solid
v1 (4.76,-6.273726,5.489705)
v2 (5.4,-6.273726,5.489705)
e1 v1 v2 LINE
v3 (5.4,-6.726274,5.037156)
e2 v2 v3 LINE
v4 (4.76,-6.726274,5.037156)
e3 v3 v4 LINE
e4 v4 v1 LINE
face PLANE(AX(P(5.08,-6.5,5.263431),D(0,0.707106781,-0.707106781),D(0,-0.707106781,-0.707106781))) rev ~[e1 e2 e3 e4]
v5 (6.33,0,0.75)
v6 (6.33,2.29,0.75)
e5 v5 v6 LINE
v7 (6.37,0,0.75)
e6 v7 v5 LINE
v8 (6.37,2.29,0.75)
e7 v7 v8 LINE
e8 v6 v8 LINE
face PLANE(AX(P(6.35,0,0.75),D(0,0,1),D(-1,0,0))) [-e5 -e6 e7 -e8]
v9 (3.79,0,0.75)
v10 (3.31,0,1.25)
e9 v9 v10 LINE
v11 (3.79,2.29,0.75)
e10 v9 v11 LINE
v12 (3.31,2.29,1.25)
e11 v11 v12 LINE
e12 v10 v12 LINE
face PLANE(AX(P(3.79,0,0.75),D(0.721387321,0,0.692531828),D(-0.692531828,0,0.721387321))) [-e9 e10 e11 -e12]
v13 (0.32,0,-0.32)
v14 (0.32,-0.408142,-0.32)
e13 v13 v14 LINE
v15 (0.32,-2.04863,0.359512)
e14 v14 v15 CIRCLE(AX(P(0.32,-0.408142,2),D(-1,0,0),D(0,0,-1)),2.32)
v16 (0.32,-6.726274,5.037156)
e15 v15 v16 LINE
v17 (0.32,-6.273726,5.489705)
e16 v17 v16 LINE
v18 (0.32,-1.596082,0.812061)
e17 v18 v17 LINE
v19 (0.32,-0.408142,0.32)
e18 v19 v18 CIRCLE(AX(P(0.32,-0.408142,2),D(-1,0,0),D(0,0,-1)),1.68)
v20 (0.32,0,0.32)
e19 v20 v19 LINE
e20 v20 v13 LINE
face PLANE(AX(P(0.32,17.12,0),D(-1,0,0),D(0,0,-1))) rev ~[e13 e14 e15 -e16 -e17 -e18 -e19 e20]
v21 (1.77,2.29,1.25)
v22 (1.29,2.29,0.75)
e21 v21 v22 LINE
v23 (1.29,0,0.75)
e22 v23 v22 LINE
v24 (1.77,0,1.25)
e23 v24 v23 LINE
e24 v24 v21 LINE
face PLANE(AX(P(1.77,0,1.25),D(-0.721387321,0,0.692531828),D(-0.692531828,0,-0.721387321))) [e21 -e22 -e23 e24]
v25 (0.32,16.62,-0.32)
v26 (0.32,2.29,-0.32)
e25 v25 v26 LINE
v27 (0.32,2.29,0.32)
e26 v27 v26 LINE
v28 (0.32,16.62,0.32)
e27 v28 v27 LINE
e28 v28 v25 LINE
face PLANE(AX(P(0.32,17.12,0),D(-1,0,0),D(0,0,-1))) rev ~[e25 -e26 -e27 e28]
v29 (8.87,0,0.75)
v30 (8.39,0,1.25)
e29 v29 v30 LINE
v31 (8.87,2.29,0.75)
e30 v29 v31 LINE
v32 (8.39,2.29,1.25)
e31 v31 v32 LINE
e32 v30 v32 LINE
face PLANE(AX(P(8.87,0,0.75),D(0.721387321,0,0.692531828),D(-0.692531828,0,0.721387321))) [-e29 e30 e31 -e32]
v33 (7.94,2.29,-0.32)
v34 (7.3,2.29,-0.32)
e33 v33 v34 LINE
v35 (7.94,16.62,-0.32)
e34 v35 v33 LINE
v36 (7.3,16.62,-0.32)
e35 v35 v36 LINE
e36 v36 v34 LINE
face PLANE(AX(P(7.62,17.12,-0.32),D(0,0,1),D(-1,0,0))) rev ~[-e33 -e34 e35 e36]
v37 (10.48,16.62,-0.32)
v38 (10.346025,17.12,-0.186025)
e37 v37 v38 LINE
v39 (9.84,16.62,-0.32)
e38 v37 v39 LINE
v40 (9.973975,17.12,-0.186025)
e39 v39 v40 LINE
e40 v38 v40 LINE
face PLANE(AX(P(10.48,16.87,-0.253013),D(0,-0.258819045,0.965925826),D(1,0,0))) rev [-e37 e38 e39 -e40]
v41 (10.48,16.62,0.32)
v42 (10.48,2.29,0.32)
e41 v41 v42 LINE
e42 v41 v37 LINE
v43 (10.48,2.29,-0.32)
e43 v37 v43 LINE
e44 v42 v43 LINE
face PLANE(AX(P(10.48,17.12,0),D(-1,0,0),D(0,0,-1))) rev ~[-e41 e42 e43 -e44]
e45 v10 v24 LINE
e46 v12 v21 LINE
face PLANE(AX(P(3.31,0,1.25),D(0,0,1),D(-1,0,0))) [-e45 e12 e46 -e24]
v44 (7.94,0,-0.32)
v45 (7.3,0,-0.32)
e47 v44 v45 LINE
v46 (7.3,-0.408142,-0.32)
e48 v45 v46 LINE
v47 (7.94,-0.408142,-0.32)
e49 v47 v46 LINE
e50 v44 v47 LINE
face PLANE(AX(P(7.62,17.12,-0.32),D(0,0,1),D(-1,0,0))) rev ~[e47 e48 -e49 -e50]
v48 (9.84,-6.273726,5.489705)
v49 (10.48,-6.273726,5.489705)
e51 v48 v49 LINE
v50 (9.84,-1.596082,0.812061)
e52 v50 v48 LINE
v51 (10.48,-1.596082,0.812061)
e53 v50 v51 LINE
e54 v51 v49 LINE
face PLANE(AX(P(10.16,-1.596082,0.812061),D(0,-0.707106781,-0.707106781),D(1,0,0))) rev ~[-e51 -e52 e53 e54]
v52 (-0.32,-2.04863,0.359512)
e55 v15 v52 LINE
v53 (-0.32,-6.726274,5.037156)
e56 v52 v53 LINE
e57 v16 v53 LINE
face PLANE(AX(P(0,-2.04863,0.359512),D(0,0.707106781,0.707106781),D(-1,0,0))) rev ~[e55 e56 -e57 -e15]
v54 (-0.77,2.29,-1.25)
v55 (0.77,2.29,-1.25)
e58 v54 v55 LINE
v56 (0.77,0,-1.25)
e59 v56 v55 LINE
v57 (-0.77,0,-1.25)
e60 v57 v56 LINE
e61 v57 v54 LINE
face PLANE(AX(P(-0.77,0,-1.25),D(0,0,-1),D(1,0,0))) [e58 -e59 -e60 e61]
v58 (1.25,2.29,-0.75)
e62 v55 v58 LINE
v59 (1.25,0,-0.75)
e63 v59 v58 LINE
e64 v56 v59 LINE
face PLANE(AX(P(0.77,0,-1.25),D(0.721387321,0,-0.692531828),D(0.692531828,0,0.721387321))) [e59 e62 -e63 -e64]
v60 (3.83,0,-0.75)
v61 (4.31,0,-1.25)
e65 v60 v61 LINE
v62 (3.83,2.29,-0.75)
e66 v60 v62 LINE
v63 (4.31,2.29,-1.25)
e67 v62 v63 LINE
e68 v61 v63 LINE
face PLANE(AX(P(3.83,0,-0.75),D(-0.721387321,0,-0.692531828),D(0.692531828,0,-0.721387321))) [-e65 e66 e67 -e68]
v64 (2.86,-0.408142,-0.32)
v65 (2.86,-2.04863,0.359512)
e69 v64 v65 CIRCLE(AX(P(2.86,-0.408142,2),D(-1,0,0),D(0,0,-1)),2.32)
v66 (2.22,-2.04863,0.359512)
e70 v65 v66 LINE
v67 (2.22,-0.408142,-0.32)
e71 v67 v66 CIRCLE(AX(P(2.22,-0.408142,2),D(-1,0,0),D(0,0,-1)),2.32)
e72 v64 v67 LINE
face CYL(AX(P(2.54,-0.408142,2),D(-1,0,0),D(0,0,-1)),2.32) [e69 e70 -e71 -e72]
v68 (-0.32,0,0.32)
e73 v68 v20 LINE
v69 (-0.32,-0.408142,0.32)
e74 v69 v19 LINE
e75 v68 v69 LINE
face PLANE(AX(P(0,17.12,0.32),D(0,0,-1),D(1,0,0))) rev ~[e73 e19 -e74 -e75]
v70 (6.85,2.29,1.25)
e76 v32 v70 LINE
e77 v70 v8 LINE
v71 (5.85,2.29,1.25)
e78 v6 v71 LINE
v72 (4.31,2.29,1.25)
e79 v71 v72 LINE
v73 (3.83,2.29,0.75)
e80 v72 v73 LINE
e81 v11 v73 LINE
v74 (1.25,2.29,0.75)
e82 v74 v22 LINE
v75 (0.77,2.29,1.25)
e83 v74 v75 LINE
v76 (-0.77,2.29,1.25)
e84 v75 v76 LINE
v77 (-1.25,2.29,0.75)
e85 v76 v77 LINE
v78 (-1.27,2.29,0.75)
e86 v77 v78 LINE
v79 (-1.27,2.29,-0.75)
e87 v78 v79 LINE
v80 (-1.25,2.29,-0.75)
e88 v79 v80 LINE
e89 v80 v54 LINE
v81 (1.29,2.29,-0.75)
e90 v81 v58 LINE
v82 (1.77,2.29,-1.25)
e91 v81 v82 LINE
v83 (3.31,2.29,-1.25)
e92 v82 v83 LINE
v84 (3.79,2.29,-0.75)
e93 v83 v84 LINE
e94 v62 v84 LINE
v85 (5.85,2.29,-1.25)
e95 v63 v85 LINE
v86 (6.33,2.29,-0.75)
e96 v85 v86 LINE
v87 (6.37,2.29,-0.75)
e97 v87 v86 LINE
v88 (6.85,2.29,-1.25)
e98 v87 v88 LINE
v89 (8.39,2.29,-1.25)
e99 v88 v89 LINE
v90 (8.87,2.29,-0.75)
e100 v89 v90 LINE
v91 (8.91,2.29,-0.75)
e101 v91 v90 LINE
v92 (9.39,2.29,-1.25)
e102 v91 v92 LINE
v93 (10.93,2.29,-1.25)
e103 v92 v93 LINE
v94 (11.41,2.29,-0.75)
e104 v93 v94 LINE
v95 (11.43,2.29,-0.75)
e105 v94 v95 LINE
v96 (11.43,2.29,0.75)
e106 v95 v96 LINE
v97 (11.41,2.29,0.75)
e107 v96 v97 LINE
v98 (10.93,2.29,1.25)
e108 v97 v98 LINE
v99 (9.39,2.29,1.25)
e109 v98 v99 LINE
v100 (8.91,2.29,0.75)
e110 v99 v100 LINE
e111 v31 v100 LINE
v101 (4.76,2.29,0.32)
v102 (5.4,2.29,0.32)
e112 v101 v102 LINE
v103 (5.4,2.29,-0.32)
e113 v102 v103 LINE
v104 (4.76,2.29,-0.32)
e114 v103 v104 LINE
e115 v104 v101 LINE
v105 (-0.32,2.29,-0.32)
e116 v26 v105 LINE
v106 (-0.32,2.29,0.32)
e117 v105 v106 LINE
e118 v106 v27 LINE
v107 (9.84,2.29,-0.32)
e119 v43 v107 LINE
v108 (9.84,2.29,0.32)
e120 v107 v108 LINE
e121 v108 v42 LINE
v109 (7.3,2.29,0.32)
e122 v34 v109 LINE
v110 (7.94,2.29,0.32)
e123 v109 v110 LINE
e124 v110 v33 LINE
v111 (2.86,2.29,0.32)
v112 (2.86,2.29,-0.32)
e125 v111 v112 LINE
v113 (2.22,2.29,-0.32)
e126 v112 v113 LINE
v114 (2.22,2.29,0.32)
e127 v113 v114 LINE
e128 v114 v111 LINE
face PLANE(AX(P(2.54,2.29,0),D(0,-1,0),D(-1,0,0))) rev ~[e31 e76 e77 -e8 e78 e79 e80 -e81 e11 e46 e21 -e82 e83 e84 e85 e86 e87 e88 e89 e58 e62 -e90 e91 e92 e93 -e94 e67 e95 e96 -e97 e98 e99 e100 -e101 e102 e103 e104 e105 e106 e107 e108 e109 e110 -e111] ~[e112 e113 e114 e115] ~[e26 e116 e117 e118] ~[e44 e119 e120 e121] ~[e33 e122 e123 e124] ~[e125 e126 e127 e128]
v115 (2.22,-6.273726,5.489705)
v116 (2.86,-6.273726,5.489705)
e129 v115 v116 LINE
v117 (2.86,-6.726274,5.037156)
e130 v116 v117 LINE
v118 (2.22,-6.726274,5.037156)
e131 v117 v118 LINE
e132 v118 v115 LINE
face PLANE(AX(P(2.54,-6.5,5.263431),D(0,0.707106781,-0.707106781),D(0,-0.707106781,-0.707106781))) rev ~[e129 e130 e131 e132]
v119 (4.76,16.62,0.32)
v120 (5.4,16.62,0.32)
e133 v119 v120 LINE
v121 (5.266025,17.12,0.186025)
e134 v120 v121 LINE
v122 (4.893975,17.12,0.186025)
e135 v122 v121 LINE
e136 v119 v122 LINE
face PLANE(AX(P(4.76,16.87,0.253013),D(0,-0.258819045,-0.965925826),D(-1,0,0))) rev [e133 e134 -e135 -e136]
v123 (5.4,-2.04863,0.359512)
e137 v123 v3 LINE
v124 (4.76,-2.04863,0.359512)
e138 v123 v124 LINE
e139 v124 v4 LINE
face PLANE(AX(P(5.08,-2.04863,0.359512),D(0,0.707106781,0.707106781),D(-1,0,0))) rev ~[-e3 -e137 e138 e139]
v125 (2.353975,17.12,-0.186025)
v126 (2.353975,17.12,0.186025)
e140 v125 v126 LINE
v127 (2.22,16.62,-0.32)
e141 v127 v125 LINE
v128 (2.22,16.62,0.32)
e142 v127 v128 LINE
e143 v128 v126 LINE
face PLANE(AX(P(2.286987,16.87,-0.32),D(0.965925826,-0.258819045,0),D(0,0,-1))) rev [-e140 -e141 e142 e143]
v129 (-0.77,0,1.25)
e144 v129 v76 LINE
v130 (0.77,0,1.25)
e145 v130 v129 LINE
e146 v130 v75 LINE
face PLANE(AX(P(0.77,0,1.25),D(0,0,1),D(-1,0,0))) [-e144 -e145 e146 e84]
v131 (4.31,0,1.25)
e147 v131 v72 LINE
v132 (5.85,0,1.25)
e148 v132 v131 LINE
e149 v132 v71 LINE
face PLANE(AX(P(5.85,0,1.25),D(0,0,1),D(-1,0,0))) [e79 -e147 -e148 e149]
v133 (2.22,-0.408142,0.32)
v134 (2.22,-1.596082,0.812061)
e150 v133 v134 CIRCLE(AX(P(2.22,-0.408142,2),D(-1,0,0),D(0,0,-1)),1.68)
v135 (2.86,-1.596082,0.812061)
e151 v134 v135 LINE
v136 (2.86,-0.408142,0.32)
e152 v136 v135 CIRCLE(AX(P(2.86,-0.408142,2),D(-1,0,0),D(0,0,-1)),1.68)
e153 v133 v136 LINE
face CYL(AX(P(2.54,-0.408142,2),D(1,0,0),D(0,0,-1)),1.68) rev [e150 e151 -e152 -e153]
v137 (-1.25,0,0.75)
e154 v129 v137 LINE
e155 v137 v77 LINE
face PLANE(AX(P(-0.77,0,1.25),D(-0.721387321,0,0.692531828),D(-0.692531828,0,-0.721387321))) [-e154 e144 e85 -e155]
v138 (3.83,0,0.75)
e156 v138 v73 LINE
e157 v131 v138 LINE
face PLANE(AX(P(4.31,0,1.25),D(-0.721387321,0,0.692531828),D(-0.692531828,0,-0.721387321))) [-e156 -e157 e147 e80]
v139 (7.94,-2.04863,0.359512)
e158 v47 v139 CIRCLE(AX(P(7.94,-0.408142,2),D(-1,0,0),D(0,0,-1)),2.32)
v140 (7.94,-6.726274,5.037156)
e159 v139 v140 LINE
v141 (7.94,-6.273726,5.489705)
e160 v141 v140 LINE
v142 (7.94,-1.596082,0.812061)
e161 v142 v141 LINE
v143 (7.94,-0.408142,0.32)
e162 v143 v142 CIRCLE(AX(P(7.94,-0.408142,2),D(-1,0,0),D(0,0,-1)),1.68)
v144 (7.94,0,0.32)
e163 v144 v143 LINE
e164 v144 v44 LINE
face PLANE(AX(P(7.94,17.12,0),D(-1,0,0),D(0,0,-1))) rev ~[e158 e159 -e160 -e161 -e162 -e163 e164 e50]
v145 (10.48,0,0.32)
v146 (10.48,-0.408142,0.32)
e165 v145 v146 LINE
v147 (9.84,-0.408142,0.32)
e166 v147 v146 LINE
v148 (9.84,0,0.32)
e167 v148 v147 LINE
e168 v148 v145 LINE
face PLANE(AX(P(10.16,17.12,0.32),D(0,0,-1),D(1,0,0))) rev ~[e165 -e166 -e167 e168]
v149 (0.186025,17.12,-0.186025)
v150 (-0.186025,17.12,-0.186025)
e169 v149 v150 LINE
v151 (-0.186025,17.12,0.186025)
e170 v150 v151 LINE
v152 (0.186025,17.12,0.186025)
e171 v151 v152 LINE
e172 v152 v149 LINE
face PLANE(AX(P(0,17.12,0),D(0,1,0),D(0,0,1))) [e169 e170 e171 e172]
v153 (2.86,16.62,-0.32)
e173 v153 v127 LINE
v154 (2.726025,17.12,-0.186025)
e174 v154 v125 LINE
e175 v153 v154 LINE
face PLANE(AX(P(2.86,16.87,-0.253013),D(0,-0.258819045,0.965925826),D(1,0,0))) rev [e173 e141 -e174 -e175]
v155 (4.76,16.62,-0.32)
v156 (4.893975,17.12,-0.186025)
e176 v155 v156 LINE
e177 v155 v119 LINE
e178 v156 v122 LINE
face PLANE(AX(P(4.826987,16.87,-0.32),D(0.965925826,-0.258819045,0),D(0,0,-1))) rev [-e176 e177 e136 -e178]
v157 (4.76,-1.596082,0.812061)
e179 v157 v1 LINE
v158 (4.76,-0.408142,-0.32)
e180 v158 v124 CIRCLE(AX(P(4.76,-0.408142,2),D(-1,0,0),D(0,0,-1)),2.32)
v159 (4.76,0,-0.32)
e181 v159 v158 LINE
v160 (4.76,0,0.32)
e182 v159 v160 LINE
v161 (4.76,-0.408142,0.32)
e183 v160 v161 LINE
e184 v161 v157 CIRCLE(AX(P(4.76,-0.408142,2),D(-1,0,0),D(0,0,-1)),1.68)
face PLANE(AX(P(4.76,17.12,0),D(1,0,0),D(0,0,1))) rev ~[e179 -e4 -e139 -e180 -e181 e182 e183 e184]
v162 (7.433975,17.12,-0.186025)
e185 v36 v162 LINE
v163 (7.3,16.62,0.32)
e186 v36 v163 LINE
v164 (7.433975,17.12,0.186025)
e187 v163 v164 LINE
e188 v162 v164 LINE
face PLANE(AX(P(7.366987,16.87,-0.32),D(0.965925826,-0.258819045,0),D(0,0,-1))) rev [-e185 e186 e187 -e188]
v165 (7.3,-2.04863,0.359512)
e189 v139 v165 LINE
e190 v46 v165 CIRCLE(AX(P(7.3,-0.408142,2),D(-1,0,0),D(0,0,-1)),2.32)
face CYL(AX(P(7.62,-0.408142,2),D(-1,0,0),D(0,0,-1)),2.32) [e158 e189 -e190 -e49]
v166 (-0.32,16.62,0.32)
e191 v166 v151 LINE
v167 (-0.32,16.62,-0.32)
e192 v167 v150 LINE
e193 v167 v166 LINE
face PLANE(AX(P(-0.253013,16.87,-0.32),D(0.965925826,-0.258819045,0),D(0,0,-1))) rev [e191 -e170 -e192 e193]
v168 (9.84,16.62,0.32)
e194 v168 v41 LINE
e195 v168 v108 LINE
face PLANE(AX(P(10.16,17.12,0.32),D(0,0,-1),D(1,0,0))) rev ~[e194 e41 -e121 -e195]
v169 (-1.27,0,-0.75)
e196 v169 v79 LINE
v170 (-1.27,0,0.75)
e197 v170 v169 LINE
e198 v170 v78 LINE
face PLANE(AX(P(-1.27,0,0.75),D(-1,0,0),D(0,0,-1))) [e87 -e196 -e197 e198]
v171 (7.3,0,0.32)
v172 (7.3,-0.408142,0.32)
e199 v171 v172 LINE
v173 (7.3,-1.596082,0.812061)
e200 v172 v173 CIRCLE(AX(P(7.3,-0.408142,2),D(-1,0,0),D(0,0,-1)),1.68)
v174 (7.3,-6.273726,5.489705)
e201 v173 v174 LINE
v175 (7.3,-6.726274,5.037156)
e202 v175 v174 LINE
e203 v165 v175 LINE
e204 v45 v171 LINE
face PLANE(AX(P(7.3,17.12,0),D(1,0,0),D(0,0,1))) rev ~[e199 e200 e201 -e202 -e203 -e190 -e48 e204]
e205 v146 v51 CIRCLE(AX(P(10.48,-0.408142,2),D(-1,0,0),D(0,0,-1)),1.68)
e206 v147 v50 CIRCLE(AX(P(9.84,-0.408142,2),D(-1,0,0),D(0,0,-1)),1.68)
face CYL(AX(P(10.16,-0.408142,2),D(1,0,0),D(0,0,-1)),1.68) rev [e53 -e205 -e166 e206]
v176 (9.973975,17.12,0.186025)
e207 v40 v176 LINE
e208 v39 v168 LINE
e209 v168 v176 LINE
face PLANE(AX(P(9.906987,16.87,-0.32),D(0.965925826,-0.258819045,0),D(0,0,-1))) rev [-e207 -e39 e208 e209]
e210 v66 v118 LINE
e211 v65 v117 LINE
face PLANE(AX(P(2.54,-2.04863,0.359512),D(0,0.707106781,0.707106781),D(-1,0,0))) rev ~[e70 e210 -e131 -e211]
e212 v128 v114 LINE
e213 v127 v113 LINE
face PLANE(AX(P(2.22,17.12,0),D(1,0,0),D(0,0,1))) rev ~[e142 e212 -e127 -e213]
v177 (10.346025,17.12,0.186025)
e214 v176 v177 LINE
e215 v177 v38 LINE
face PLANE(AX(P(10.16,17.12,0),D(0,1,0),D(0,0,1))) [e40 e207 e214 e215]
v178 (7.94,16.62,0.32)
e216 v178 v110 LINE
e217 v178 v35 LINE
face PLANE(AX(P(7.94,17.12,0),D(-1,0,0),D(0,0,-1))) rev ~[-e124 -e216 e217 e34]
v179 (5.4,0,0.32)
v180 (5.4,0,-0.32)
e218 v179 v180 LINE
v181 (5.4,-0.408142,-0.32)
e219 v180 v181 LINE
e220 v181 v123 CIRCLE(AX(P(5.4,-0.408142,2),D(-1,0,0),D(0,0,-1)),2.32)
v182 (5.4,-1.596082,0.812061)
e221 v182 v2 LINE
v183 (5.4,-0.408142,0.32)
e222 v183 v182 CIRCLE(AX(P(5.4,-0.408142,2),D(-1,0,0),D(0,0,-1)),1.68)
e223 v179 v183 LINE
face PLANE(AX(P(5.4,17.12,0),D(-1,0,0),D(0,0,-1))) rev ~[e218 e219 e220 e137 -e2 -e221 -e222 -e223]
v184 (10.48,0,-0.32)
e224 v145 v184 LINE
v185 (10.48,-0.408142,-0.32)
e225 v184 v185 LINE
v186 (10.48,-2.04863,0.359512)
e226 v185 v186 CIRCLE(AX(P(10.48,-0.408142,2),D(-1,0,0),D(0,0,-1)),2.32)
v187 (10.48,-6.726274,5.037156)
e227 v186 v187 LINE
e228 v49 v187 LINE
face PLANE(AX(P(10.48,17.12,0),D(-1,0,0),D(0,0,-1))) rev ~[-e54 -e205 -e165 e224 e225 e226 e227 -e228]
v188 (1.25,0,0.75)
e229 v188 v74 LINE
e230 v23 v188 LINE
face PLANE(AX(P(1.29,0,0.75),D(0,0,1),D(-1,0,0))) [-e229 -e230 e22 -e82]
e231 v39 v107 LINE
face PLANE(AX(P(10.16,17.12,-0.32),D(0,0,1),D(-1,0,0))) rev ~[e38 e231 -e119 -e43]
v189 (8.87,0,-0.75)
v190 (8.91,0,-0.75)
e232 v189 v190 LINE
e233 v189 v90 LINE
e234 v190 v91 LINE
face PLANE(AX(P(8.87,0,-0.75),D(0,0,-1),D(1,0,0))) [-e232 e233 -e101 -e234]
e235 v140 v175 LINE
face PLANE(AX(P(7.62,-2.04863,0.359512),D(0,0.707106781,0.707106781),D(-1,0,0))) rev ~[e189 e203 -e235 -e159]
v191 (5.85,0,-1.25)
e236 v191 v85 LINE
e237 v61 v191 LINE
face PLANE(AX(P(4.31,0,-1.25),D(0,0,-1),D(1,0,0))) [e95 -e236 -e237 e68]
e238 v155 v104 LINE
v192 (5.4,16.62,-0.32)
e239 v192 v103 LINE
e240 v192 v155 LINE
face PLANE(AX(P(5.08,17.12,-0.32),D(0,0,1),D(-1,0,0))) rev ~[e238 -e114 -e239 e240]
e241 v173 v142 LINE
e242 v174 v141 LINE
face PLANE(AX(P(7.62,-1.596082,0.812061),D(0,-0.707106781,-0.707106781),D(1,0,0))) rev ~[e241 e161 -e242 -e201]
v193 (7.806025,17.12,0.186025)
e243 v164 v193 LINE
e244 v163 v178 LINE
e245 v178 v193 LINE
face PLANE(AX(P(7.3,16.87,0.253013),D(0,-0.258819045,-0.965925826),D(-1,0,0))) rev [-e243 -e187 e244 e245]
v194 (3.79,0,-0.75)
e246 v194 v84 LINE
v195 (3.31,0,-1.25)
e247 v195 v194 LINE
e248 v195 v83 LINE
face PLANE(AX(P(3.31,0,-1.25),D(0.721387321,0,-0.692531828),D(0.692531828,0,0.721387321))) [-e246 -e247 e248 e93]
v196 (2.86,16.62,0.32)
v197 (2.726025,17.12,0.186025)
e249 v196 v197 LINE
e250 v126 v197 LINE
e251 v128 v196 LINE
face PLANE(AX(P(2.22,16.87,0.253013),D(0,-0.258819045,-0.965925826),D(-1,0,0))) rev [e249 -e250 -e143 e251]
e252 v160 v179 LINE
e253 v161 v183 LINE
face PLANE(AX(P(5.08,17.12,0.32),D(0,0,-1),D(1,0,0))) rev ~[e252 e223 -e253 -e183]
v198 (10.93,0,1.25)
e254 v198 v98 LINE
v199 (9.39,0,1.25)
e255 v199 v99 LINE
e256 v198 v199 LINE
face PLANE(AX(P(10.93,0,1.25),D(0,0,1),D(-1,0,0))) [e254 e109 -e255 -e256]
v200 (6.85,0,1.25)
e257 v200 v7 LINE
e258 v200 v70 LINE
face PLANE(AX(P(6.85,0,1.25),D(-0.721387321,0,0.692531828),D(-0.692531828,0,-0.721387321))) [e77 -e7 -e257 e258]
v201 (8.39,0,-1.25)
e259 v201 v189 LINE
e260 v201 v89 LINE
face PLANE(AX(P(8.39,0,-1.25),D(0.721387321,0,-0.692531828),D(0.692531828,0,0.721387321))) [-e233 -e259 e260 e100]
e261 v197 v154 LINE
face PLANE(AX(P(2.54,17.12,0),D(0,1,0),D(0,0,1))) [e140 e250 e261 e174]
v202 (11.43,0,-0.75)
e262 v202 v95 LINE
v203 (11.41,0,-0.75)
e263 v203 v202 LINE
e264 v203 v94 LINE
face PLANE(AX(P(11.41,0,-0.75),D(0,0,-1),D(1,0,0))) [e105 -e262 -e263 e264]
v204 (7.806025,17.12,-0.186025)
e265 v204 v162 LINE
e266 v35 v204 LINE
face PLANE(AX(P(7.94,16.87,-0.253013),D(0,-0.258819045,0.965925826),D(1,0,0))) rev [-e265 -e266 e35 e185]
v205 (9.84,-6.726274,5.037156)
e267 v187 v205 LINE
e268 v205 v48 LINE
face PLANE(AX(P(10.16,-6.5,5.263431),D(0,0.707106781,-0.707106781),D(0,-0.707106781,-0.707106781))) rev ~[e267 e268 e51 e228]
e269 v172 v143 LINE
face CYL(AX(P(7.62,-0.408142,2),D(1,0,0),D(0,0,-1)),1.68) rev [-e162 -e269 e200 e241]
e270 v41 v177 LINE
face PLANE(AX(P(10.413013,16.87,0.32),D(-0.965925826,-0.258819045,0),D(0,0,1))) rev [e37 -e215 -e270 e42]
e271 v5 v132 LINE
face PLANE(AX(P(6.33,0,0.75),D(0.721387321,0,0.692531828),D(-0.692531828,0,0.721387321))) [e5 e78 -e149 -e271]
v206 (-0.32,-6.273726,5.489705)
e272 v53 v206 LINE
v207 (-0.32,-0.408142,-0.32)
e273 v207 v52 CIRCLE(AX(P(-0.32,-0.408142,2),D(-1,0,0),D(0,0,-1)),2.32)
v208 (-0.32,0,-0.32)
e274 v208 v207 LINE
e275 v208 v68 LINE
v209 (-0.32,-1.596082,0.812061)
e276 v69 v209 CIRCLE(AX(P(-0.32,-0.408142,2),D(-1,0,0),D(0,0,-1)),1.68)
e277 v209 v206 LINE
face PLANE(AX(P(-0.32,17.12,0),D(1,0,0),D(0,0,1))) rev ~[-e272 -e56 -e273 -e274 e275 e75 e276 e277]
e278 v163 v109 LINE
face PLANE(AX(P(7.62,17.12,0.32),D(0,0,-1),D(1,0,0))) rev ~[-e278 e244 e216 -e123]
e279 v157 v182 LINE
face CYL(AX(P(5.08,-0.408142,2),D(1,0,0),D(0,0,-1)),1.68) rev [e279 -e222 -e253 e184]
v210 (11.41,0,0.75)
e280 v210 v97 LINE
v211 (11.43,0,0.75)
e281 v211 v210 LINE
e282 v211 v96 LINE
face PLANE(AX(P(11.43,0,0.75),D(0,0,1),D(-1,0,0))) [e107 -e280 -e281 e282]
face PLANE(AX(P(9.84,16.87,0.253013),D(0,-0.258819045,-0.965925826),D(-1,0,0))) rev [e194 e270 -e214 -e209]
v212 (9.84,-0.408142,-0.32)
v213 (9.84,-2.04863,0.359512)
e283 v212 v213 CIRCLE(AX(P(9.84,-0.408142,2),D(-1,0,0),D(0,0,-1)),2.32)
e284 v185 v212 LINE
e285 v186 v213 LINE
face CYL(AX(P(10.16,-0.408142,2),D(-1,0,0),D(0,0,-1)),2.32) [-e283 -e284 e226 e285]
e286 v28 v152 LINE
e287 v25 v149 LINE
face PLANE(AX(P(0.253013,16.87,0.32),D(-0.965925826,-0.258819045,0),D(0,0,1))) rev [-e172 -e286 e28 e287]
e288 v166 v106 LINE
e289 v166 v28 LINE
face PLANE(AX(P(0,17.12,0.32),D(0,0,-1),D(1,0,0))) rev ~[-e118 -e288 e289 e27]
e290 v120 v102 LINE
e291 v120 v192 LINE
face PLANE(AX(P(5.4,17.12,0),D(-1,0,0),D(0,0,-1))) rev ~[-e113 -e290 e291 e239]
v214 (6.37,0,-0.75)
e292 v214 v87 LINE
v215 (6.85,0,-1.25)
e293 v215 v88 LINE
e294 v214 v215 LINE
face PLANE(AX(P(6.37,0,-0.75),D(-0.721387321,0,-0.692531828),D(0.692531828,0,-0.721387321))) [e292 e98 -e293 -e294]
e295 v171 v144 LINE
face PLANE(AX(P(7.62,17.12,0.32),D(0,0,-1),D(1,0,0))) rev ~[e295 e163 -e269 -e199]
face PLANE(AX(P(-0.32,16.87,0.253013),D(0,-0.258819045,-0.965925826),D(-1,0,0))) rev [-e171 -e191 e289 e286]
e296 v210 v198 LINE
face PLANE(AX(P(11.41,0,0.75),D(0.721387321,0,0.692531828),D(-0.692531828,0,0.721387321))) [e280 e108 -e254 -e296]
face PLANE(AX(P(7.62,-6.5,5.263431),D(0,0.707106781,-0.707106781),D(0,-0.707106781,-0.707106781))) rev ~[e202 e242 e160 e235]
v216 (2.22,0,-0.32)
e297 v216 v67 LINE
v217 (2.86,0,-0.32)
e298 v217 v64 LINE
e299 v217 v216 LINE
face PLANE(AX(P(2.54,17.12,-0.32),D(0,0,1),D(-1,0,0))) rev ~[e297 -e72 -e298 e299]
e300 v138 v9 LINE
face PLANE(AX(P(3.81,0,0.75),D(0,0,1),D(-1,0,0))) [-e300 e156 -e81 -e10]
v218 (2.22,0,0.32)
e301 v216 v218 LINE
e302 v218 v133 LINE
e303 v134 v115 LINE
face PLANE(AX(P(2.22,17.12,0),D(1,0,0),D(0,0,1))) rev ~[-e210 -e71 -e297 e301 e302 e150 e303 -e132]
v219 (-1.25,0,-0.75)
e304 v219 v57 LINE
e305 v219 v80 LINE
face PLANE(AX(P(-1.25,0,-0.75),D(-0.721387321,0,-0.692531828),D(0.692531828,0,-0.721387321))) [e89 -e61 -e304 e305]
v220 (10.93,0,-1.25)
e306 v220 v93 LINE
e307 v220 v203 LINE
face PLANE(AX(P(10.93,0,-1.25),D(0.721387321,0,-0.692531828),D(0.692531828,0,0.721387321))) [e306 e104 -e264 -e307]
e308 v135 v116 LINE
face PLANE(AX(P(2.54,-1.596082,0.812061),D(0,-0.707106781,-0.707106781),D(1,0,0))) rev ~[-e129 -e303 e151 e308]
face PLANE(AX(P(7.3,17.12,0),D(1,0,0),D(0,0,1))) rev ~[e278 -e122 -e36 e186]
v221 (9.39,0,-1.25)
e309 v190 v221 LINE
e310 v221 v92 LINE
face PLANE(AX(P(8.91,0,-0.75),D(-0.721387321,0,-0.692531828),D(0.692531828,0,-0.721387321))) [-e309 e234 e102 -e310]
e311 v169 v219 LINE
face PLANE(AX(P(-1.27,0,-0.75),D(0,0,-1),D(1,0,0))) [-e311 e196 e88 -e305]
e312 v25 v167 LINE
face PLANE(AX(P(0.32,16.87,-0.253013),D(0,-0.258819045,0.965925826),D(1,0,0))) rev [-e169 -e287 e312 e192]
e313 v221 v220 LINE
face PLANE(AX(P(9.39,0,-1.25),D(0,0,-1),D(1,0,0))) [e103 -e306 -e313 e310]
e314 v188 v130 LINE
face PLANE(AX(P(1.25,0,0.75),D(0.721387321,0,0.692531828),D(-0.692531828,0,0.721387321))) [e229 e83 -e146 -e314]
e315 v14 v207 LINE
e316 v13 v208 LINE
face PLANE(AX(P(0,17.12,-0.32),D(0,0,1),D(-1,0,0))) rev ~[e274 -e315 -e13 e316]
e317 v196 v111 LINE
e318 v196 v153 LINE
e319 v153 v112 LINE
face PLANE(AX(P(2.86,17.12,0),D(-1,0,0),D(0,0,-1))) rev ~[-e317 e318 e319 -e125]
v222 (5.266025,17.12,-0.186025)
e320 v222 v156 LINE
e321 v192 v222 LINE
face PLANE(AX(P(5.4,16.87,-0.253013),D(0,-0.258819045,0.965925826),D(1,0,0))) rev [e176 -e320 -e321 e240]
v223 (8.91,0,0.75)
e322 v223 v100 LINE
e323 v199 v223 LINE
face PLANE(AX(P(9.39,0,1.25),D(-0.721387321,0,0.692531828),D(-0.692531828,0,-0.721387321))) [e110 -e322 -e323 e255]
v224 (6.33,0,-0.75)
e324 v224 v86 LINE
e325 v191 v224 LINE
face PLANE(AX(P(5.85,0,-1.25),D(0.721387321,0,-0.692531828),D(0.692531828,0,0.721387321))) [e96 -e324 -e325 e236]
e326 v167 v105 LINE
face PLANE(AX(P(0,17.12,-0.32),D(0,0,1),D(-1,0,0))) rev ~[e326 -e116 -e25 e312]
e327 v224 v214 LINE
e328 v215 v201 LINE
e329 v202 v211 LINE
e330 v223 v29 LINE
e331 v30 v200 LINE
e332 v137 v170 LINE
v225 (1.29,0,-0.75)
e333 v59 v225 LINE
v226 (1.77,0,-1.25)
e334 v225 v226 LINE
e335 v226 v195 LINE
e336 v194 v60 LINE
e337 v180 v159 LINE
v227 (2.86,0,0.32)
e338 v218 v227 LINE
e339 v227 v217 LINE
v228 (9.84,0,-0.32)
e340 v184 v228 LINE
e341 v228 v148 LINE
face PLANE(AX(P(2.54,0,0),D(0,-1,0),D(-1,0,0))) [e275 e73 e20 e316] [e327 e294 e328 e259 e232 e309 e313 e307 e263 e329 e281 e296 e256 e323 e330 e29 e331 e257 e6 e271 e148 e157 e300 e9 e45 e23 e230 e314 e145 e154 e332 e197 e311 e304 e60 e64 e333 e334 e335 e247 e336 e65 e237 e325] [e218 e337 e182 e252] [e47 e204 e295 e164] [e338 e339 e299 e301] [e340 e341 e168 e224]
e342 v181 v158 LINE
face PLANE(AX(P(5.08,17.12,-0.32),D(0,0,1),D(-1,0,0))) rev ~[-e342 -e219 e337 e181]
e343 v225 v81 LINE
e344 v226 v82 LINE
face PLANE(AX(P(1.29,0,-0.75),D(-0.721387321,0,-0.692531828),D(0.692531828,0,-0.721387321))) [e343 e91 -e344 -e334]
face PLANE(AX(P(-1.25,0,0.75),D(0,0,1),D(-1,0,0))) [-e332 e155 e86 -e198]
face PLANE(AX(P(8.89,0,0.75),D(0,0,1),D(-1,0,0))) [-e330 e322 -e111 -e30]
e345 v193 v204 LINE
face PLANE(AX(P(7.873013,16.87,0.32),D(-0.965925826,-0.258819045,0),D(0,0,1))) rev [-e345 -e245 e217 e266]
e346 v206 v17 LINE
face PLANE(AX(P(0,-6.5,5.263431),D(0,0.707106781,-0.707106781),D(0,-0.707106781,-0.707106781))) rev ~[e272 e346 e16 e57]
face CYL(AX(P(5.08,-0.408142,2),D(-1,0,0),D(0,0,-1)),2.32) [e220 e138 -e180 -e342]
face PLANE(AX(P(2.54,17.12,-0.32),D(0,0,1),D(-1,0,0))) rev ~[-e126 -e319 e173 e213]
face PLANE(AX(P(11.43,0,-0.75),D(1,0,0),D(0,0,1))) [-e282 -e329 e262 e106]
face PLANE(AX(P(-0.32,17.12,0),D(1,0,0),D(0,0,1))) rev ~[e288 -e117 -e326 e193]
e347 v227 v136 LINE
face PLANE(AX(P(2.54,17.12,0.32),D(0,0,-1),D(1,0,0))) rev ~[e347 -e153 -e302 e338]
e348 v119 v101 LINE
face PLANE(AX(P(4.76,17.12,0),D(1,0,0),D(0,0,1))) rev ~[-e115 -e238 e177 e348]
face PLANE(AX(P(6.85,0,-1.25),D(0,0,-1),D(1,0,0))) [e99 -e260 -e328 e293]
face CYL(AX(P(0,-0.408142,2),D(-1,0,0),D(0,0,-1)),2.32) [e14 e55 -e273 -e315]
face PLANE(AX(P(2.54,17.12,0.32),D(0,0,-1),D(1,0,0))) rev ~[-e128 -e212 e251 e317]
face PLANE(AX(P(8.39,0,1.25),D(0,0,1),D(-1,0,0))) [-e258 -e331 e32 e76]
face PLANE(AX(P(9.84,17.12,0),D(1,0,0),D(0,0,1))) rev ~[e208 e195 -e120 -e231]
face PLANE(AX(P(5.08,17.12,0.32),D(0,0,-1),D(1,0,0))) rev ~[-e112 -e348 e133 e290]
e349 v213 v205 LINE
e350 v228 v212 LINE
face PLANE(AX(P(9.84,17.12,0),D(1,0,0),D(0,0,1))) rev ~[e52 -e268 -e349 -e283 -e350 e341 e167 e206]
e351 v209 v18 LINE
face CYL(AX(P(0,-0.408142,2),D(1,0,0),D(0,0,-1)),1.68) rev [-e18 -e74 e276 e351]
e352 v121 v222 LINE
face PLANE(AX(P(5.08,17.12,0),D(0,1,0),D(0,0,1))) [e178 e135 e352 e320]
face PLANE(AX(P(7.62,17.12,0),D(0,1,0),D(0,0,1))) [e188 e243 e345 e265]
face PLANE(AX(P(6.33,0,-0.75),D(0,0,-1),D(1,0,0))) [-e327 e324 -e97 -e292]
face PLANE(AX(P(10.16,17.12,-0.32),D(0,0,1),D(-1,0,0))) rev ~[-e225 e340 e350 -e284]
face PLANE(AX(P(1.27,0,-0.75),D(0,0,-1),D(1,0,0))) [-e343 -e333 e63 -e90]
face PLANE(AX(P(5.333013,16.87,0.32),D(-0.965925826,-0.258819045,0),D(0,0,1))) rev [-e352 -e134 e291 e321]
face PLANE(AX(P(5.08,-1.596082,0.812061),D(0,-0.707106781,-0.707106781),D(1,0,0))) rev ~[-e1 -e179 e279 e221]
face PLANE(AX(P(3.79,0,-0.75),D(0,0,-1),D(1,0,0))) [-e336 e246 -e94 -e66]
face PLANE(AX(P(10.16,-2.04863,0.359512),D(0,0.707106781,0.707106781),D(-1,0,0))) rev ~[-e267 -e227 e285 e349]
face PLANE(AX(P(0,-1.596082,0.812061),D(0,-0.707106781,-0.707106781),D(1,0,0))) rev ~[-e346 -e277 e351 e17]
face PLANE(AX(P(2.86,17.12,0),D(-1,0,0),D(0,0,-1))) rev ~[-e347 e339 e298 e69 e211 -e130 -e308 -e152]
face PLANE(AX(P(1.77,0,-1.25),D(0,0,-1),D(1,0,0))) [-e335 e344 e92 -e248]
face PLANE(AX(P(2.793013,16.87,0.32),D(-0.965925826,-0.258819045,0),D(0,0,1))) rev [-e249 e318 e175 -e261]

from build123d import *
from OCP.BRepFilletAPI import BRepFilletAPI_MakeChamfer

# Parameters (mm, degrees)
BOSS_EXTRUDE1_DEPTH         = 2.29
SKETCH3_W                   = 0.64
SKETCH3_H                   = 0.64
CHAMFER3_SIZE               = 0.5
CHAMFER3_SIZE2              = 0.133974596
LPATTERN1_COUNT             = 5
LPATTERN1_PITCH             = 2.54
CHAMFER3_OF_LPATTERN1_SIZE  = 0.5
CHAMFER3_OF_LPATTERN1_SIZE2 = 0.133974596


with BuildPart() as part:
    # Sketch1 → Boss-Extrude1 (new body)
    with BuildSketch(Plane(origin=(0, 0, 0), x_dir=(1, 0, 0), z_dir=(0, 1, 0))):
        Polygon((-0.77, 1.25), (0.77, 1.25), (1.25, 0.75), (1.27, 0.75), (1.27, -0.75), (1.25, -0.75), (0.77, -1.25), (-0.77, -1.25), (-1.25, -0.75), (-1.27, -0.75), (-1.27, 0.75), (-1.25, 0.75), align=None)
    boss_extrude1 = extrude(amount=BOSS_EXTRUDE1_DEPTH)

    # Sweep1: sweep along a path in Sketch2
    with BuildLine(Plane(origin=(0, 0, 0), x_dir=(0, 0, -1), z_dir=(1, 0, 0))) as sweep1_path:
        Line((0, 17.12), (0, -0.408142235))
        ThreePointArc((0, -0.408142235), (-0.152240935, -1.1735091), (-0.585786438, -1.822355798))
        Line((-0.585786438, -1.822355798), (-5.26343064, -6.5))
    # Sketch3 → Sweep1 (sweep)
    with BuildSketch(Plane(origin=(0, 17.12, 0), x_dir=(1, 0, 0), z_dir=(0, 1, 0))):
        Rectangle(SKETCH3_W, SKETCH3_H)
    sweep1 = sweep(path=sweep1_path.line)

    # Chamfer3: one chamfer whose edges measure the first distance from different faces: ONE call of the kernel's chamfer builder (chamfer() names one face for all edges)
    chamfer3_edges_1 = [part.edges().sort_by_distance(p)[0] for p in [
        (0.32, 17.12, 0),
    ]]
    chamfer3_side_1 = [part.faces().sort_by_distance(p)[0] for p in [
        (0.32, 9.705, 0),
    ]]
    chamfer3_edges_2 = [part.edges().sort_by_distance(p)[0] for p in [
        (0, 17.12, -0.32),
    ]]
    chamfer3_side_2 = [part.faces().sort_by_distance(p)[0] for p in [
        (0, 9.705, -0.32),
    ]]
    chamfer3_edges_3 = [part.edges().sort_by_distance(p)[0] for p in [
        (-0.32, 17.12, 0),
    ]]
    chamfer3_side_3 = [part.faces().sort_by_distance(p)[0] for p in [
        (-0.32, 9.705, 0),
    ]]
    chamfer3_edges_4 = [part.edges().sort_by_distance(p)[0] for p in [
        (0, 17.12, 0.32),
    ]]
    chamfer3_side_4 = [part.faces().sort_by_distance(p)[0] for p in [
        (0, 9.705, 0.32),
    ]]
    chamfer3 = BRepFilletAPI_MakeChamfer(part.part.solid().wrapped)
    for e in chamfer3_edges_1:
        chamfer3.Add(CHAMFER3_SIZE, CHAMFER3_SIZE2, e.wrapped, chamfer3_side_1[0].wrapped)  # the first distance lies on this face
    for e in chamfer3_edges_2:
        chamfer3.Add(CHAMFER3_SIZE, CHAMFER3_SIZE2, e.wrapped, chamfer3_side_2[0].wrapped)  # the first distance lies on this face
    for e in chamfer3_edges_3:
        chamfer3.Add(CHAMFER3_SIZE, CHAMFER3_SIZE2, e.wrapped, chamfer3_side_3[0].wrapped)  # the first distance lies on this face
    for e in chamfer3_edges_4:
        chamfer3.Add(CHAMFER3_SIZE, CHAMFER3_SIZE2, e.wrapped, chamfer3_side_4[0].wrapped)  # the first distance lies on this face
    add(Compound.cast(chamfer3.Shape()), mode=Mode.REPLACE)

    # LPattern1: Boss-Extrude1, Sweep1 ×5
    with Locations(*[(i * LPATTERN1_PITCH, 0, 0) for i in range(1, LPATTERN1_COUNT)]):
        add(boss_extrude1)
        add(sweep1)

    # Chamfer3 of LPattern1: one chamfer whose edges measure the first distance from different faces: ONE call of the kernel's chamfer builder (chamfer() names one face for all edges)
    chamfer3_of_lpattern1_edges_1 = [part.edges().sort_by_distance(p)[0] for p in [
        (2.86, 17.12, 0),
    ]]
    chamfer3_of_lpattern1_side_1 = [part.faces().sort_by_distance(p)[0] for p in [
        (2.86, 9.705, 0),
    ]]
    chamfer3_of_lpattern1_edges_2 = [part.edges().sort_by_distance(p)[0] for p in [
        (2.54, 17.12, -0.32),
    ]]
    chamfer3_of_lpattern1_side_2 = [part.faces().sort_by_distance(p)[0] for p in [
        (2.54, 9.705, -0.32),
    ]]
    chamfer3_of_lpattern1_edges_3 = [part.edges().sort_by_distance(p)[0] for p in [
        (2.22, 17.12, 0),
    ]]
    chamfer3_of_lpattern1_side_3 = [part.faces().sort_by_distance(p)[0] for p in [
        (2.22, 9.705, 0),
    ]]
    chamfer3_of_lpattern1_edges_4 = [part.edges().sort_by_distance(p)[0] for p in [
        (2.54, 17.12, 0.32),
    ]]
    chamfer3_of_lpattern1_side_4 = [part.faces().sort_by_distance(p)[0] for p in [
        (2.54, 9.705, 0.32),
    ]]
    chamfer3_of_lpattern1_edges_5 = [part.edges().sort_by_distance(p)[0] for p in [
        (5.4, 17.12, 0),
    ]]
    chamfer3_of_lpattern1_side_5 = [part.faces().sort_by_distance(p)[0] for p in [
        (5.4, 9.705, 0),
    ]]
    chamfer3_of_lpattern1_edges_6 = [part.edges().sort_by_distance(p)[0] for p in [
        (5.08, 17.12, -0.32),
    ]]
    chamfer3_of_lpattern1_side_6 = [part.faces().sort_by_distance(p)[0] for p in [
        (5.08, 9.705, -0.32),
    ]]
    chamfer3_of_lpattern1_edges_7 = [part.edges().sort_by_distance(p)[0] for p in [
        (4.76, 17.12, 0),
    ]]
    chamfer3_of_lpattern1_side_7 = [part.faces().sort_by_distance(p)[0] for p in [
        (4.76, 9.705, 0),
    ]]
    chamfer3_of_lpattern1_edges_8 = [part.edges().sort_by_distance(p)[0] for p in [
        (5.08, 17.12, 0.32),
    ]]
    chamfer3_of_lpattern1_side_8 = [part.faces().sort_by_distance(p)[0] for p in [
        (5.08, 9.705, 0.32),
    ]]
    chamfer3_of_lpattern1_edges_9 = [part.edges().sort_by_distance(p)[0] for p in [
        (7.94, 17.12, 0),
    ]]
    chamfer3_of_lpattern1_side_9 = [part.faces().sort_by_distance(p)[0] for p in [
        (7.94, 9.705, 0),
    ]]
    chamfer3_of_lpattern1_edges_10 = [part.edges().sort_by_distance(p)[0] for p in [
        (7.62, 17.12, -0.32),
    ]]
    chamfer3_of_lpattern1_side_10 = [part.faces().sort_by_distance(p)[0] for p in [
        (7.62, 9.705, -0.32),
    ]]
    chamfer3_of_lpattern1_edges_11 = [part.edges().sort_by_distance(p)[0] for p in [
        (7.3, 17.12, 0),
    ]]
    chamfer3_of_lpattern1_side_11 = [part.faces().sort_by_distance(p)[0] for p in [
        (7.3, 9.705, 0),
    ]]
    chamfer3_of_lpattern1_edges_12 = [part.edges().sort_by_distance(p)[0] for p in [
        (7.62, 17.12, 0.32),
    ]]
    chamfer3_of_lpattern1_side_12 = [part.faces().sort_by_distance(p)[0] for p in [
        (7.62, 9.705, 0.32),
    ]]
    chamfer3_of_lpattern1_edges_13 = [part.edges().sort_by_distance(p)[0] for p in [
        (10.48, 17.12, 0),
    ]]
    chamfer3_of_lpattern1_side_13 = [part.faces().sort_by_distance(p)[0] for p in [
        (10.48, 9.705, 0),
    ]]
    chamfer3_of_lpattern1_edges_14 = [part.edges().sort_by_distance(p)[0] for p in [
        (10.16, 17.12, -0.32),
    ]]
    chamfer3_of_lpattern1_side_14 = [part.faces().sort_by_distance(p)[0] for p in [
        (10.16, 9.705, -0.32),
    ]]
    chamfer3_of_lpattern1_edges_15 = [part.edges().sort_by_distance(p)[0] for p in [
        (9.84, 17.12, 0),
    ]]
    chamfer3_of_lpattern1_side_15 = [part.faces().sort_by_distance(p)[0] for p in [
        (9.84, 9.705, 0),
    ]]
    chamfer3_of_lpattern1_edges_16 = [part.edges().sort_by_distance(p)[0] for p in [
        (10.16, 17.12, 0.32),
    ]]
    chamfer3_of_lpattern1_side_16 = [part.faces().sort_by_distance(p)[0] for p in [
        (10.16, 9.705, 0.32),
    ]]
    chamfer3_of_lpattern1 = BRepFilletAPI_MakeChamfer(part.part.solid().wrapped)
    for e in chamfer3_of_lpattern1_edges_1:
        chamfer3_of_lpattern1.Add(CHAMFER3_OF_LPATTERN1_SIZE, CHAMFER3_OF_LPATTERN1_SIZE2, e.wrapped, chamfer3_of_lpattern1_side_1[0].wrapped)  # the first distance lies on this face
    for e in chamfer3_of_lpattern1_edges_2:
        chamfer3_of_lpattern1.Add(CHAMFER3_OF_LPATTERN1_SIZE, CHAMFER3_OF_LPATTERN1_SIZE2, e.wrapped, chamfer3_of_lpattern1_side_2[0].wrapped)  # the first distance lies on this face
    for e in chamfer3_of_lpattern1_edges_3:
        chamfer3_of_lpattern1.Add(CHAMFER3_OF_LPATTERN1_SIZE, CHAMFER3_OF_LPATTERN1_SIZE2, e.wrapped, chamfer3_of_lpattern1_side_3[0].wrapped)  # the first distance lies on this face
    for e in chamfer3_of_lpattern1_edges_4:
        chamfer3_of_lpattern1.Add(CHAMFER3_OF_LPATTERN1_SIZE, CHAMFER3_OF_LPATTERN1_SIZE2, e.wrapped, chamfer3_of_lpattern1_side_4[0].wrapped)  # the first distance lies on this face
    for e in chamfer3_of_lpattern1_edges_5:
        chamfer3_of_lpattern1.Add(CHAMFER3_OF_LPATTERN1_SIZE, CHAMFER3_OF_LPATTERN1_SIZE2, e.wrapped, chamfer3_of_lpattern1_side_5[0].wrapped)  # the first distance lies on this face
    for e in chamfer3_of_lpattern1_edges_6:
        chamfer3_of_lpattern1.Add(CHAMFER3_OF_LPATTERN1_SIZE, CHAMFER3_OF_LPATTERN1_SIZE2, e.wrapped, chamfer3_of_lpattern1_side_6[0].wrapped)  # the first distance lies on this face
    for e in chamfer3_of_lpattern1_edges_7:
        chamfer3_of_lpattern1.Add(CHAMFER3_OF_LPATTERN1_SIZE, CHAMFER3_OF_LPATTERN1_SIZE2, e.wrapped, chamfer3_of_lpattern1_side_7[0].wrapped)  # the first distance lies on this face
    for e in chamfer3_of_lpattern1_edges_8:
        chamfer3_of_lpattern1.Add(CHAMFER3_OF_LPATTERN1_SIZE, CHAMFER3_OF_LPATTERN1_SIZE2, e.wrapped, chamfer3_of_lpattern1_side_8[0].wrapped)  # the first distance lies on this face
    for e in chamfer3_of_lpattern1_edges_9:
        chamfer3_of_lpattern1.Add(CHAMFER3_OF_LPATTERN1_SIZE, CHAMFER3_OF_LPATTERN1_SIZE2, e.wrapped, chamfer3_of_lpattern1_side_9[0].wrapped)  # the first distance lies on this face
    for e in chamfer3_of_lpattern1_edges_10:
        chamfer3_of_lpattern1.Add(CHAMFER3_OF_LPATTERN1_SIZE, CHAMFER3_OF_LPATTERN1_SIZE2, e.wrapped, chamfer3_of_lpattern1_side_10[0].wrapped)  # the first distance lies on this face
    for e in chamfer3_of_lpattern1_edges_11:
        chamfer3_of_lpattern1.Add(CHAMFER3_OF_LPATTERN1_SIZE, CHAMFER3_OF_LPATTERN1_SIZE2, e.wrapped, chamfer3_of_lpattern1_side_11[0].wrapped)  # the first distance lies on this face
    for e in chamfer3_of_lpattern1_edges_12:
        chamfer3_of_lpattern1.Add(CHAMFER3_OF_LPATTERN1_SIZE, CHAMFER3_OF_LPATTERN1_SIZE2, e.wrapped, chamfer3_of_lpattern1_side_12[0].wrapped)  # the first distance lies on this face
    for e in chamfer3_of_lpattern1_edges_13:
        chamfer3_of_lpattern1.Add(CHAMFER3_OF_LPATTERN1_SIZE, CHAMFER3_OF_LPATTERN1_SIZE2, e.wrapped, chamfer3_of_lpattern1_side_13[0].wrapped)  # the first distance lies on this face
    for e in chamfer3_of_lpattern1_edges_14:
        chamfer3_of_lpattern1.Add(CHAMFER3_OF_LPATTERN1_SIZE, CHAMFER3_OF_LPATTERN1_SIZE2, e.wrapped, chamfer3_of_lpattern1_side_14[0].wrapped)  # the first distance lies on this face
    for e in chamfer3_of_lpattern1_edges_15:
        chamfer3_of_lpattern1.Add(CHAMFER3_OF_LPATTERN1_SIZE, CHAMFER3_OF_LPATTERN1_SIZE2, e.wrapped, chamfer3_of_lpattern1_side_15[0].wrapped)  # the first distance lies on this face
    for e in chamfer3_of_lpattern1_edges_16:
        chamfer3_of_lpattern1.Add(CHAMFER3_OF_LPATTERN1_SIZE, CHAMFER3_OF_LPATTERN1_SIZE2, e.wrapped, chamfer3_of_lpattern1_side_16[0].wrapped)  # the first distance lies on this face
    add(Compound.cast(chamfer3_of_lpattern1.Shape()), mode=Mode.REPLACE)


solid = part.part
